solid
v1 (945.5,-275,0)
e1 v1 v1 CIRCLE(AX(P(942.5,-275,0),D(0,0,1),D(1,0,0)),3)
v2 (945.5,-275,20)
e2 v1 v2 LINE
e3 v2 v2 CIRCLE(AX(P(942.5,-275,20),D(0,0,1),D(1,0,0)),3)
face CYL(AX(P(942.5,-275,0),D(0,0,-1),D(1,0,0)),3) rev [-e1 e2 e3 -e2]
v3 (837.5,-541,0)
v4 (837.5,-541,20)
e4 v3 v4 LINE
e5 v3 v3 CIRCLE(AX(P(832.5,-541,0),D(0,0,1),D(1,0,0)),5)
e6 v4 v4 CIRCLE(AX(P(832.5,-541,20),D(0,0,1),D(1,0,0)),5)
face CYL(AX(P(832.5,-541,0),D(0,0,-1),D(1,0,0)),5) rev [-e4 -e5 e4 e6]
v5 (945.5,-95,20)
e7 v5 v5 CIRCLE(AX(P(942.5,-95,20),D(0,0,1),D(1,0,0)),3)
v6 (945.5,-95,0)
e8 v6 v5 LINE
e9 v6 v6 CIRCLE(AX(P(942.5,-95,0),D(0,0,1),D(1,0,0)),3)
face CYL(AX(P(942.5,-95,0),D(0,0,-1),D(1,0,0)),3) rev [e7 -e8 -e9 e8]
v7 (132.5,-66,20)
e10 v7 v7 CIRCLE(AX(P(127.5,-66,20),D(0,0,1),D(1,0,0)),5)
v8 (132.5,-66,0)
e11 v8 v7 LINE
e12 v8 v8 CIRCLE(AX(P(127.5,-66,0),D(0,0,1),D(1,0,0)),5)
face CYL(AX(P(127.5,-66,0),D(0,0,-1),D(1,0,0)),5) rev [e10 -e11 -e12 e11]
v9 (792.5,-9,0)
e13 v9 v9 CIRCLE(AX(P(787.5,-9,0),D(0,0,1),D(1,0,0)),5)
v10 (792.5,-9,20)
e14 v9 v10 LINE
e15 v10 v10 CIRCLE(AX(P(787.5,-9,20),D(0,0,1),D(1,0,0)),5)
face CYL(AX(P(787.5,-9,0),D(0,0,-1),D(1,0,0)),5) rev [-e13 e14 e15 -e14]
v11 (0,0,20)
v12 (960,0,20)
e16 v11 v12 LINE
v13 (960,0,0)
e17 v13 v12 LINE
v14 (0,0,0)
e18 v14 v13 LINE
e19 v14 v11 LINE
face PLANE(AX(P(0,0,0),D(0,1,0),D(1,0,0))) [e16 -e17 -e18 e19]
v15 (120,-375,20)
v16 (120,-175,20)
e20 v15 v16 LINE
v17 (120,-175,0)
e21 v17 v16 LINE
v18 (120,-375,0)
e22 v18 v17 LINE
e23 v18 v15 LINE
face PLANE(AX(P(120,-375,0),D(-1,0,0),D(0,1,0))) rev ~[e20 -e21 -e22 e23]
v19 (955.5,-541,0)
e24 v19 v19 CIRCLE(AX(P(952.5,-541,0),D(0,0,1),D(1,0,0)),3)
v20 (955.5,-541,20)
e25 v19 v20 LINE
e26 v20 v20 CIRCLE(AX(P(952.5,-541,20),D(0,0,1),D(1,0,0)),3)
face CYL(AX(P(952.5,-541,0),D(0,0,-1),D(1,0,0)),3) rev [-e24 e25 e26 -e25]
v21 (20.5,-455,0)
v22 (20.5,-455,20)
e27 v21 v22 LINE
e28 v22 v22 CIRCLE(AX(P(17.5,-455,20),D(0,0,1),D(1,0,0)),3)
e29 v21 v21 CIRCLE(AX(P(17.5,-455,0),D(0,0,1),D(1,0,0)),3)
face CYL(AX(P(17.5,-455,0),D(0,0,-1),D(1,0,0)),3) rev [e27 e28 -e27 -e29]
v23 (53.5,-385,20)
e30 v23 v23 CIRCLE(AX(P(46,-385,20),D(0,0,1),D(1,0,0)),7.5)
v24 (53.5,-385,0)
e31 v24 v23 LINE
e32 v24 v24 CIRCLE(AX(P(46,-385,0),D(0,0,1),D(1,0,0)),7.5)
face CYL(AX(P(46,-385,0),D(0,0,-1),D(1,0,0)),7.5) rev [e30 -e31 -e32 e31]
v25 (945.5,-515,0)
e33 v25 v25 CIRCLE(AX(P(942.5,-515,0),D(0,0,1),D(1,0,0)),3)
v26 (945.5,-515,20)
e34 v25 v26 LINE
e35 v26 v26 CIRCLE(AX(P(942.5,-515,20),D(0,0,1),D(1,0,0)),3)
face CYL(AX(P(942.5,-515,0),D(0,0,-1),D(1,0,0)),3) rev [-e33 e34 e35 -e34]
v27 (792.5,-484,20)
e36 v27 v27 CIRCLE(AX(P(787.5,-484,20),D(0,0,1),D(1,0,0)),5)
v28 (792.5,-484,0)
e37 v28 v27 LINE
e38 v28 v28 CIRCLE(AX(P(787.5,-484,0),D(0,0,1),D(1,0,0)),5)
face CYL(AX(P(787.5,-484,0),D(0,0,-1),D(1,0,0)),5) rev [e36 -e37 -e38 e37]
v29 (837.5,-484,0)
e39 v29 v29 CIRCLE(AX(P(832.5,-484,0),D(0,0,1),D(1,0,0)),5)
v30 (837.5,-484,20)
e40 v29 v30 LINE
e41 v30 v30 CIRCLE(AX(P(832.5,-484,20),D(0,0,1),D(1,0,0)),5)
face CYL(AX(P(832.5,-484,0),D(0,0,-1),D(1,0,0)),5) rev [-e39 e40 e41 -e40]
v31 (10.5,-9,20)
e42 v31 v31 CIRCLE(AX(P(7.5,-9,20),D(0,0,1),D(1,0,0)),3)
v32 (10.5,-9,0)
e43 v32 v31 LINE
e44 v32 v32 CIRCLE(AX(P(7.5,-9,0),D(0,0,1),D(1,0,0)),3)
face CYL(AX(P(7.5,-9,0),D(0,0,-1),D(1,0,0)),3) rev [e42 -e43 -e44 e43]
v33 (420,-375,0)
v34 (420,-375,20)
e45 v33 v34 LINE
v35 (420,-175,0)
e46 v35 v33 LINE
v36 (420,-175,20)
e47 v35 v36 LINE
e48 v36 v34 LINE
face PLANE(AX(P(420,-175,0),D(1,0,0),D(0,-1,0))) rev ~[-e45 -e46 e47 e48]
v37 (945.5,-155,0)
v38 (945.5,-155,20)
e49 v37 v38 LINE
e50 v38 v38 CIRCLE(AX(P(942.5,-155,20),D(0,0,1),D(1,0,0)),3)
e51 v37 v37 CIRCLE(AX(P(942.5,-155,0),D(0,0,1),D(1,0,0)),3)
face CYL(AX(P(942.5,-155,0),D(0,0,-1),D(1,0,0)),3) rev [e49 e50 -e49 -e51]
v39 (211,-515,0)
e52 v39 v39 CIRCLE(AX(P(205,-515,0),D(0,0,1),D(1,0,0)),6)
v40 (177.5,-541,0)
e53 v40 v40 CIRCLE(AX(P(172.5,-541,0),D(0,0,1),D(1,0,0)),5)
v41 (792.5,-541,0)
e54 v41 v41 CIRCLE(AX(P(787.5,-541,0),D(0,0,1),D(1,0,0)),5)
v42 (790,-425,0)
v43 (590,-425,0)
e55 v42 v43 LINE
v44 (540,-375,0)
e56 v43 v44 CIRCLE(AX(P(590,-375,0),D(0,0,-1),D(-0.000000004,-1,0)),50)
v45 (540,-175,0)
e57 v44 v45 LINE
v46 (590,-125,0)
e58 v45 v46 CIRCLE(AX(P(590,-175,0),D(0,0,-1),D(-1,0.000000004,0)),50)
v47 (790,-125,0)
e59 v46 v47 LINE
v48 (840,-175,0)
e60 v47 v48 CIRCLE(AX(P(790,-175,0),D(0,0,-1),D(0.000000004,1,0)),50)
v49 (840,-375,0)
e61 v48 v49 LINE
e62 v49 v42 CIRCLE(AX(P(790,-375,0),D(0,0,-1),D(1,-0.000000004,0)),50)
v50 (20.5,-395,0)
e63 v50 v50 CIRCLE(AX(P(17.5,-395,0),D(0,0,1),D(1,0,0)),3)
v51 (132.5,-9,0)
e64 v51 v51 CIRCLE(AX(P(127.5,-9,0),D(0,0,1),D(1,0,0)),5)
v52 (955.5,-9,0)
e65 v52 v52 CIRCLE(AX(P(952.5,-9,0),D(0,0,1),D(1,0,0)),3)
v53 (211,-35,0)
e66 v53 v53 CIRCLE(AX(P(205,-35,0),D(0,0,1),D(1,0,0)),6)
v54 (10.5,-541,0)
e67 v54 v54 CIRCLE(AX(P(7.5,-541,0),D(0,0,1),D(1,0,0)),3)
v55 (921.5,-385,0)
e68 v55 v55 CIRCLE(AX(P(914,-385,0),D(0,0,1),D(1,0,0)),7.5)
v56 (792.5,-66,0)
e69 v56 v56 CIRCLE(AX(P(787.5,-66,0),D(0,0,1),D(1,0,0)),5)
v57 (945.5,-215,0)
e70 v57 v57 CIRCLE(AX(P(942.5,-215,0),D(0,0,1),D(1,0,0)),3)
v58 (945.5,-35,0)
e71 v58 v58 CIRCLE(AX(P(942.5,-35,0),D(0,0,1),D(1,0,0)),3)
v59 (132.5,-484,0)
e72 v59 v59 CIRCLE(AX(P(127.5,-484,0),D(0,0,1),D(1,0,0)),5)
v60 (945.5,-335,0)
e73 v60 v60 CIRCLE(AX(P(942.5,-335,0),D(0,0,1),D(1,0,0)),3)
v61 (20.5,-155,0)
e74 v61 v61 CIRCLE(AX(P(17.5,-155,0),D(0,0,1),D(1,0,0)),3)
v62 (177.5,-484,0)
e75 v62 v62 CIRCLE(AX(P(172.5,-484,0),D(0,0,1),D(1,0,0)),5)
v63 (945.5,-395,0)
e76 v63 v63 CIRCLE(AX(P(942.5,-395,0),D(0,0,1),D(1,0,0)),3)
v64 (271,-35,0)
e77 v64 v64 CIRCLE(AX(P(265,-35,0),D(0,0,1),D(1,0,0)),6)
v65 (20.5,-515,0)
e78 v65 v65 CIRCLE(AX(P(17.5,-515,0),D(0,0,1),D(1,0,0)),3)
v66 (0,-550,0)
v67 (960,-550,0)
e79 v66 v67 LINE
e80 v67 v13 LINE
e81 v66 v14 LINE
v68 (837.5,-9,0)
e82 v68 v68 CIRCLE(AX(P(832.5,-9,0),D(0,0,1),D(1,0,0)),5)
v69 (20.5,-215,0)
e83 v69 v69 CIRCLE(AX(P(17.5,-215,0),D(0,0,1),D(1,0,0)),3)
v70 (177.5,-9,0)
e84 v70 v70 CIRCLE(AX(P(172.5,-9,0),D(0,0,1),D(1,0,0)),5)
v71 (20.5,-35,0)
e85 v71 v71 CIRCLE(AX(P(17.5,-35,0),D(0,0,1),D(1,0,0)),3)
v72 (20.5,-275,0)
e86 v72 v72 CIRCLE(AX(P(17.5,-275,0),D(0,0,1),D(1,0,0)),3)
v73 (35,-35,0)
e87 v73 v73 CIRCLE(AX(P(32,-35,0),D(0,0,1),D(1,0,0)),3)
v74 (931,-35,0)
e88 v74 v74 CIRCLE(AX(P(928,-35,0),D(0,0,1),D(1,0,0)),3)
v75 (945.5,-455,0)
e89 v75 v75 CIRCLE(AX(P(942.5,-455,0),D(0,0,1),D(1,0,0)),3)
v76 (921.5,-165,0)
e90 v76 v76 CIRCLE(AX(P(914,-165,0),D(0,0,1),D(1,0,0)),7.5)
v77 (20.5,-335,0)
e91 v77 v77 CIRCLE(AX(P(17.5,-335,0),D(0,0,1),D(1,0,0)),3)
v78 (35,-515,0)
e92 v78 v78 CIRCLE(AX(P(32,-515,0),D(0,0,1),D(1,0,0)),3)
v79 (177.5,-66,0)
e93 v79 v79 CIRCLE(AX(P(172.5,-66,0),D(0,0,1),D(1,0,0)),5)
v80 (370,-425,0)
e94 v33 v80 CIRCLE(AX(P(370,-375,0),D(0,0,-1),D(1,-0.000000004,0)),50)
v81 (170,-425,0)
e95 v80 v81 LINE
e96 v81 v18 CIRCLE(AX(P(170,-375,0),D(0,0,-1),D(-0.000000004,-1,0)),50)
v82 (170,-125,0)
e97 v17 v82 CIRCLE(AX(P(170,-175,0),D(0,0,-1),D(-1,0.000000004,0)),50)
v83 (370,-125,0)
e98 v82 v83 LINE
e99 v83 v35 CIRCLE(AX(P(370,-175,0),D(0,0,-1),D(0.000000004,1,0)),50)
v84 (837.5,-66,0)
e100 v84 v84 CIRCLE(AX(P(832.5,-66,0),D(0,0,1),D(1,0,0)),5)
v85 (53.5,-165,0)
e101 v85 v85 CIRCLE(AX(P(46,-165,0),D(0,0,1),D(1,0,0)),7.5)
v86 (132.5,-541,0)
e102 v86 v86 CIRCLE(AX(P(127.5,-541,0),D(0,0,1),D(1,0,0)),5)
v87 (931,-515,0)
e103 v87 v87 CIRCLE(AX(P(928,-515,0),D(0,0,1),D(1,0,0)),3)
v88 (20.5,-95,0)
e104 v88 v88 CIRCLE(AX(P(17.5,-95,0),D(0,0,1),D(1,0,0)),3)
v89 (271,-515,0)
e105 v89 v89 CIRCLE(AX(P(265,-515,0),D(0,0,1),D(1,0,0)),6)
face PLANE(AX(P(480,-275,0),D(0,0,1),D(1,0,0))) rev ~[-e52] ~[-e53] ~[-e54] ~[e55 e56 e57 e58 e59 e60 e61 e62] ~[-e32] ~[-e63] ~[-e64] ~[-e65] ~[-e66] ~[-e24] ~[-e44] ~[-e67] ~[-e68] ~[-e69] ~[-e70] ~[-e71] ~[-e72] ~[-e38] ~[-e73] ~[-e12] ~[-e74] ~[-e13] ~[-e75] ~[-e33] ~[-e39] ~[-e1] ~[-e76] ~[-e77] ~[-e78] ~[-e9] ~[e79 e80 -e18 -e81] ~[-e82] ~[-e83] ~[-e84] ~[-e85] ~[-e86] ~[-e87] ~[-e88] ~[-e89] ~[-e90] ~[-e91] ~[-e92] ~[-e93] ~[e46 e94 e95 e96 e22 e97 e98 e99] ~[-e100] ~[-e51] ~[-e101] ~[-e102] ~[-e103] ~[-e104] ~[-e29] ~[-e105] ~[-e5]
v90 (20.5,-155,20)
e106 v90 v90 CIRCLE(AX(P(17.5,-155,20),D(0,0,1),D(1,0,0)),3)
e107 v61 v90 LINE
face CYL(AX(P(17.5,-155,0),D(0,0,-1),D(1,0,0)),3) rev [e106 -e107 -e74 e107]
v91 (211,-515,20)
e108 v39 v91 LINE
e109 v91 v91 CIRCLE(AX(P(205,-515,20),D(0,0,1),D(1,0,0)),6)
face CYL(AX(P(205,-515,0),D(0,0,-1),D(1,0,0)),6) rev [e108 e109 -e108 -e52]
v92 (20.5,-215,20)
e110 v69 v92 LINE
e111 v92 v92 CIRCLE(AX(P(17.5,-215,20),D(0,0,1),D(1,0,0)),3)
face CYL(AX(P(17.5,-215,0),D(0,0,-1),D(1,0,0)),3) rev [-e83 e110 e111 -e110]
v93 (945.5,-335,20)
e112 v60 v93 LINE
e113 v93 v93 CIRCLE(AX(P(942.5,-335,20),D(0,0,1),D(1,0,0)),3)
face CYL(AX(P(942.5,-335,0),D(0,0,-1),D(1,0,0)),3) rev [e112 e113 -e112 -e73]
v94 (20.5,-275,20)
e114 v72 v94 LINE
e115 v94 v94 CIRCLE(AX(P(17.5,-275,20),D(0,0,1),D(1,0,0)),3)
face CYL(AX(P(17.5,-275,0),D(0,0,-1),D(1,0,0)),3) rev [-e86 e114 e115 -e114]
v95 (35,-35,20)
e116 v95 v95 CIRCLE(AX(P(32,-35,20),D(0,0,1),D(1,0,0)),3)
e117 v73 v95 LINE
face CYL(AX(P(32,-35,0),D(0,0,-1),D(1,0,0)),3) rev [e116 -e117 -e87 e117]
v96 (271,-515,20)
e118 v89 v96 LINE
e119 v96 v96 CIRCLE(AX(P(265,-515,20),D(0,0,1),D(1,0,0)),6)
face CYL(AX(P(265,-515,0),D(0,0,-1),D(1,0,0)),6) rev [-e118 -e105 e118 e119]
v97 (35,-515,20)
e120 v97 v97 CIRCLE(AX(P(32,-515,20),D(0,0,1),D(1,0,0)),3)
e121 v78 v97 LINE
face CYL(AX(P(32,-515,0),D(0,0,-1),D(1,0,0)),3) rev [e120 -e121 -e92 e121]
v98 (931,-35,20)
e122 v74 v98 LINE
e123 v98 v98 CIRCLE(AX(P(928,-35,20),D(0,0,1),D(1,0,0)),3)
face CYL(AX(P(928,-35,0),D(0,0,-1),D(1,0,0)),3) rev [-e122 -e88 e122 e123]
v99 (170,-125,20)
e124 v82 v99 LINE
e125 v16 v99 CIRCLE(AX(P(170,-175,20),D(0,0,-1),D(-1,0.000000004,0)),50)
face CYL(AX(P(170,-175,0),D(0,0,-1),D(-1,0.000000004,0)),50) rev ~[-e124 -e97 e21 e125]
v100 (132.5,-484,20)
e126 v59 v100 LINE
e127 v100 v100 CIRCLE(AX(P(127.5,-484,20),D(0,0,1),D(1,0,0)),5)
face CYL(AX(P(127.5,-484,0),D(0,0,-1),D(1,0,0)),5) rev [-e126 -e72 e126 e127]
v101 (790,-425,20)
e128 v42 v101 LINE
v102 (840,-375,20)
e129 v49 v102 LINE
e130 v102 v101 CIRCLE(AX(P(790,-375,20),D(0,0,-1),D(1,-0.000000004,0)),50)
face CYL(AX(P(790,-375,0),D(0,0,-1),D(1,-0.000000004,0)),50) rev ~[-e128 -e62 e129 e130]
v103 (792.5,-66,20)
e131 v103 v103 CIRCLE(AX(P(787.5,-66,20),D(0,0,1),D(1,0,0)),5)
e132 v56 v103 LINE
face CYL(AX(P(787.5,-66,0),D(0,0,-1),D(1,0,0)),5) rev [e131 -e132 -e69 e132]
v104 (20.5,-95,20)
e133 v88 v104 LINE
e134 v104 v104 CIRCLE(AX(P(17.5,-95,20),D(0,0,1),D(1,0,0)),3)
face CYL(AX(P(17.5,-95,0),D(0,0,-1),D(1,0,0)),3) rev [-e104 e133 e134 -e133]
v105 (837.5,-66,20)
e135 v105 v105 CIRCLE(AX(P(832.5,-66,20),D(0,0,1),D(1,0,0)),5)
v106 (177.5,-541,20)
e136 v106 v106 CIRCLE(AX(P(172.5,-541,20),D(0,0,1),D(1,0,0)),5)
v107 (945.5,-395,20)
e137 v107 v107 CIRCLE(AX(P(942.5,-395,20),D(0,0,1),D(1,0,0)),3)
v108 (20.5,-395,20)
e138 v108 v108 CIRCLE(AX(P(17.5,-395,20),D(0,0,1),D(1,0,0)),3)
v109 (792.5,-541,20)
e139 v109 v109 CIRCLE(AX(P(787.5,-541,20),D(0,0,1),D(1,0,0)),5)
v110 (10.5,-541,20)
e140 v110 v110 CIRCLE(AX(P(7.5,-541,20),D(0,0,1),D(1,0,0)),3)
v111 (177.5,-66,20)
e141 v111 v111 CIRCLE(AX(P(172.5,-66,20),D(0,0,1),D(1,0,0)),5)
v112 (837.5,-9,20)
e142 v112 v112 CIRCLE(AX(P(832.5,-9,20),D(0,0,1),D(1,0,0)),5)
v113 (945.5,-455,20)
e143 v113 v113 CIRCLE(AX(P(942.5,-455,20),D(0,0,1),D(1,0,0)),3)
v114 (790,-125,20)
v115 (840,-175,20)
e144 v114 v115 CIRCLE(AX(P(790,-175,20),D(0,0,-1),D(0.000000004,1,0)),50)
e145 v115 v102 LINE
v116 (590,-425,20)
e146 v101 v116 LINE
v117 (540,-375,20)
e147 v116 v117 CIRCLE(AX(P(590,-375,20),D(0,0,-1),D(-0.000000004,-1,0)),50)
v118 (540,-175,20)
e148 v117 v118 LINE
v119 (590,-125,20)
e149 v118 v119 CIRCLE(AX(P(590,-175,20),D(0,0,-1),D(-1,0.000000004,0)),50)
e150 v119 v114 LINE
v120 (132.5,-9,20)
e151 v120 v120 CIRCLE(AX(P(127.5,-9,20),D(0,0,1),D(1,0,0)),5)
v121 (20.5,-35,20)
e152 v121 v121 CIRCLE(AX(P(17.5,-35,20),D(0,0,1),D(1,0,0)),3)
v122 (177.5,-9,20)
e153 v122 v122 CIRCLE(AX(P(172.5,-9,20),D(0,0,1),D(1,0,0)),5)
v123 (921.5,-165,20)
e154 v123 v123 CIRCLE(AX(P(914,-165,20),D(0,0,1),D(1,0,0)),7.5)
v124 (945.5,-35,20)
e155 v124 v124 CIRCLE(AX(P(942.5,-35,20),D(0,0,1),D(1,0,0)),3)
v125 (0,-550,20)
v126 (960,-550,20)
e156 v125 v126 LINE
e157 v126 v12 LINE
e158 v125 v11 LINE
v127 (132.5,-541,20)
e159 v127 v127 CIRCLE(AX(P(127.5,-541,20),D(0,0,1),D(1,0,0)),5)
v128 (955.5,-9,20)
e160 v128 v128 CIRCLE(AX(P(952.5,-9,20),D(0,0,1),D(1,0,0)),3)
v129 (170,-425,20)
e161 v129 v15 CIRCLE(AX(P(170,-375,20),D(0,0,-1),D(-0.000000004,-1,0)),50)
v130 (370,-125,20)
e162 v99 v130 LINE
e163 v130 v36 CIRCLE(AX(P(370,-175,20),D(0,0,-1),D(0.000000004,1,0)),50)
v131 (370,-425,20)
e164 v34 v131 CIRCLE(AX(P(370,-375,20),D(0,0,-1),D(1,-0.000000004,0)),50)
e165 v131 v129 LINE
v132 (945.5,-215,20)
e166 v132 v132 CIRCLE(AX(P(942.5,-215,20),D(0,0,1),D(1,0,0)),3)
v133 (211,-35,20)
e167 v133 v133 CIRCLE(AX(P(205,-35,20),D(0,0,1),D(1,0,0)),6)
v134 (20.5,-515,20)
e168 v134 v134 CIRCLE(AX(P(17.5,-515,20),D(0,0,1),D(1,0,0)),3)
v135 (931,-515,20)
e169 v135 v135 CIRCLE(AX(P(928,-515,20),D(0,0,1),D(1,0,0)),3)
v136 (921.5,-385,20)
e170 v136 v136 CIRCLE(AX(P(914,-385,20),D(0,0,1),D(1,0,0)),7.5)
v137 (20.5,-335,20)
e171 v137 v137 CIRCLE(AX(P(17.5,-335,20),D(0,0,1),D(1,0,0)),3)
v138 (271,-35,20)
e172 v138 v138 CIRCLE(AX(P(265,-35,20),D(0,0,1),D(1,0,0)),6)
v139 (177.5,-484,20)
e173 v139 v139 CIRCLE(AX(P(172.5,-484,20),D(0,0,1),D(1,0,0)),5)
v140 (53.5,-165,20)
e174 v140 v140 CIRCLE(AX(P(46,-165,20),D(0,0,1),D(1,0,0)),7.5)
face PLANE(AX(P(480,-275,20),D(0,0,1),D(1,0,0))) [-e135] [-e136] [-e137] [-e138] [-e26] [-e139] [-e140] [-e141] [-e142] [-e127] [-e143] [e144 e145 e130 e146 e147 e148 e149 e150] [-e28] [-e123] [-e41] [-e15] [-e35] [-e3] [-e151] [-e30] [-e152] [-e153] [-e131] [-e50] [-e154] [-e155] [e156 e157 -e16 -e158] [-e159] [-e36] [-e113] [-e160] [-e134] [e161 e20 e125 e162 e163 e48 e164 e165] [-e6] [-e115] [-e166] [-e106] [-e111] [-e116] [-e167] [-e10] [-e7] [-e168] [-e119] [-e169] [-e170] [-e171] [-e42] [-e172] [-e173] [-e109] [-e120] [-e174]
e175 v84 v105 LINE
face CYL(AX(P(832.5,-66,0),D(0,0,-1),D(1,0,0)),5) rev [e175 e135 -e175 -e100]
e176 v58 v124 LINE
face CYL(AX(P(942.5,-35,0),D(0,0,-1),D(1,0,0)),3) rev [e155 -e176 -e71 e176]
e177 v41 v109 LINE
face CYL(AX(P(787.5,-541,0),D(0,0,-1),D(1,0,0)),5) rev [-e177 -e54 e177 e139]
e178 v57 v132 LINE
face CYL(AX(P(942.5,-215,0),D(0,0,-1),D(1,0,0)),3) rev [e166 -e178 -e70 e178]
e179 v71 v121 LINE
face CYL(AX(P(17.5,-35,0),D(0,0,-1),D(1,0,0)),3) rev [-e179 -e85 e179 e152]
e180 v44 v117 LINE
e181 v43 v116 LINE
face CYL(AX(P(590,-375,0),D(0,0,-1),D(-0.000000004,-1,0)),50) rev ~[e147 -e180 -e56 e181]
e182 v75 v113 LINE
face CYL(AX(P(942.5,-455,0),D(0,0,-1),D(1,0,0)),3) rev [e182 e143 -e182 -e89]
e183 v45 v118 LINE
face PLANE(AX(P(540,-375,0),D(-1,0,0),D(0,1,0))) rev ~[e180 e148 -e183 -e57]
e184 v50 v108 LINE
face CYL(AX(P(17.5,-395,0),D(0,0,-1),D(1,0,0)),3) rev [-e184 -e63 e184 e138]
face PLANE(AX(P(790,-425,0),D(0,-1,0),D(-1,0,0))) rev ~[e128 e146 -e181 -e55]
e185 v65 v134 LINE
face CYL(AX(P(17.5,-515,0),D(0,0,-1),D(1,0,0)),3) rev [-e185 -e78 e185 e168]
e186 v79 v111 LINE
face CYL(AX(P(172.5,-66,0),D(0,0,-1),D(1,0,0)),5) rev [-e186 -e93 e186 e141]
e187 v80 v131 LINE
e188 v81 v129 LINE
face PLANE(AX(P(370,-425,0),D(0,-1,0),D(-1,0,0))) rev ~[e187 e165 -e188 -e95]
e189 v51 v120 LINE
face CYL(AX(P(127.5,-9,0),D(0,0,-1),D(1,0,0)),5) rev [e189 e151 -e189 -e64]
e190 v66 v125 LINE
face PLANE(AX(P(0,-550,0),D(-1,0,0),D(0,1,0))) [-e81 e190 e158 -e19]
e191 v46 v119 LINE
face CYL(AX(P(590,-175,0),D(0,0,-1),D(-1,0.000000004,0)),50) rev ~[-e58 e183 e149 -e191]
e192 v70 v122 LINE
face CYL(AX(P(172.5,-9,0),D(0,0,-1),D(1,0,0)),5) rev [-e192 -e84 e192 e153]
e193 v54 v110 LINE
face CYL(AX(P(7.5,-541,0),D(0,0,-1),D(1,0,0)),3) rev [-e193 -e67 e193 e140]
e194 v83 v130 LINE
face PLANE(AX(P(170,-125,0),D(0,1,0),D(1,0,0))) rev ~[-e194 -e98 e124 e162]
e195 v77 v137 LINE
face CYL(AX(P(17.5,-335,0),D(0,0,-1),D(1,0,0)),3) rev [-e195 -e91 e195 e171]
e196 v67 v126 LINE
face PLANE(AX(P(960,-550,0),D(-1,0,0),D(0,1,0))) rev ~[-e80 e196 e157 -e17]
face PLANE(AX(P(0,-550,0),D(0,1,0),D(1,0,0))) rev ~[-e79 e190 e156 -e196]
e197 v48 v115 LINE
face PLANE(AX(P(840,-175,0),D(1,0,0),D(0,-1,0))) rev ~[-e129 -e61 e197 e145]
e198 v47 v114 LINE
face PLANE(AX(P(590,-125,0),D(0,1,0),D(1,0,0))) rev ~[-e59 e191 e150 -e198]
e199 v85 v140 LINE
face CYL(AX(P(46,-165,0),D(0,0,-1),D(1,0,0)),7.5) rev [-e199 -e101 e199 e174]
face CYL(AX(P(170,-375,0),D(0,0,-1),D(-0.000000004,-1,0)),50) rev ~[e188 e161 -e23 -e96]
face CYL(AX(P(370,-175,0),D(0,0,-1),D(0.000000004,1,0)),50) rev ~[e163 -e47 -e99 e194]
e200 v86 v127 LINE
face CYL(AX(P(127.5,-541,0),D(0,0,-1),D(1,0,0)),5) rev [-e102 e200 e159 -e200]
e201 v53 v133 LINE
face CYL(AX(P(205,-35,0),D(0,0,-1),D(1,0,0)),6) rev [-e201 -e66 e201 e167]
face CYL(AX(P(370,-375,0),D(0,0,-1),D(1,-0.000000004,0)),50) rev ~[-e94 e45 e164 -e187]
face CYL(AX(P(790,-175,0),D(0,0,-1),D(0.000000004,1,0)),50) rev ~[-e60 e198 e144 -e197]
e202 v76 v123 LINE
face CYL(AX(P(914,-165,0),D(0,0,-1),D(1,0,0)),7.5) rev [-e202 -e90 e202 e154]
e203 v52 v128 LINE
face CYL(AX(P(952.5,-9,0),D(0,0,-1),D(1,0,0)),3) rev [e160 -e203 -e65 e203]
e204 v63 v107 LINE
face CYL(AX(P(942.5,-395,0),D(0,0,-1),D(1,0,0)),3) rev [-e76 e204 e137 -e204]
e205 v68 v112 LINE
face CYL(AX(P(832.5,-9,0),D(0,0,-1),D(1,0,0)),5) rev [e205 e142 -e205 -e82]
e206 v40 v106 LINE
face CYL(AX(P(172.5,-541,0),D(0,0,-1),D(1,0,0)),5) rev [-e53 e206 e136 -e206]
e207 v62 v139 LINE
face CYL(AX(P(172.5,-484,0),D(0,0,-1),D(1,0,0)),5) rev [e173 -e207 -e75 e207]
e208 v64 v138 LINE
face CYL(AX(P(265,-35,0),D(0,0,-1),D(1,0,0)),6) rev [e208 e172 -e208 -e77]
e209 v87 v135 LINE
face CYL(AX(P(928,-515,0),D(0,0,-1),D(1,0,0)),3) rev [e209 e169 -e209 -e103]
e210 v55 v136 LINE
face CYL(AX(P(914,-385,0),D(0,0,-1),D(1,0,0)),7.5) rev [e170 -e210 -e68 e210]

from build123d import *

# Parameters (mm, degrees)
F0_W     = 960
F0_H     = 550
F0_R     = 3
F0_R_2   = 5
F0_R_3   = 6
F0_R_4   = 7.5
F1_DEPTH = 20


with BuildPart() as f1:
    # F0 (on Top) → F1 (new body)
    with BuildSketch(Plane.XY):
        with Locations((480, -275)):
            Rectangle(F0_W, F0_H)
        with Locations((7.5, -541)):
            Circle(F0_R, mode=Mode.SUBTRACT)
        with Locations((17.5, -515)):
            Circle(F0_R, mode=Mode.SUBTRACT)
        with Locations((32, -515)):
            Circle(F0_R, mode=Mode.SUBTRACT)
        with Locations((127.5, -541)):
            Circle(F0_R_2, mode=Mode.SUBTRACT)
        with Locations((172.5, -541)):
            Circle(F0_R_2, mode=Mode.SUBTRACT)
        with Locations((127.5, -484)):
            Circle(F0_R_2, mode=Mode.SUBTRACT)
        with Locations((172.5, -484)):
            Circle(F0_R_2, mode=Mode.SUBTRACT)
        with Locations((205, -515)):
            Circle(F0_R_3, mode=Mode.SUBTRACT)
        with Locations((17.5, -455)):
            Circle(F0_R, mode=Mode.SUBTRACT)
        with Locations((265, -515)):
            Circle(F0_R_3, mode=Mode.SUBTRACT)
        with Locations((17.5, -395)):
            Circle(F0_R, mode=Mode.SUBTRACT)
        with Locations((46, -385)):
            Circle(F0_R_4, mode=Mode.SUBTRACT)
        with Locations((17.5, -335)):
            Circle(F0_R, mode=Mode.SUBTRACT)
        with Locations((787.5, -541)):
            Circle(F0_R_2, mode=Mode.SUBTRACT)
        with Locations((832.5, -541)):
            Circle(F0_R_2, mode=Mode.SUBTRACT)
        with Locations((787.5, -484)):
            Circle(F0_R_2, mode=Mode.SUBTRACT)
        with Locations((832.5, -484)):
            Circle(F0_R_2, mode=Mode.SUBTRACT)
        with Locations((952.5, -541)):
            Circle(F0_R, mode=Mode.SUBTRACT)
        with Locations((928, -515)):
            Circle(F0_R, mode=Mode.SUBTRACT)
        with Locations((942.5, -515)):
            Circle(F0_R, mode=Mode.SUBTRACT)
        with Locations((942.5, -455)):
            Circle(F0_R, mode=Mode.SUBTRACT)
        with Locations((914, -385)):
            Circle(F0_R_4, mode=Mode.SUBTRACT)
        with Locations((942.5, -395)):
            Circle(F0_R, mode=Mode.SUBTRACT)
        with Locations((942.5, -335)):
            Circle(F0_R, mode=Mode.SUBTRACT)
        with Locations((17.5, -275)):
            Circle(F0_R, mode=Mode.SUBTRACT)
        with Locations((17.5, -215)):
            Circle(F0_R, mode=Mode.SUBTRACT)
        with Locations((17.5, -155)):
            Circle(F0_R, mode=Mode.SUBTRACT)
        with Locations((46, -165)):
            Circle(F0_R_4, mode=Mode.SUBTRACT)
        with BuildLine():
            ThreePointArc((120, -175), (134.644661, -139.644661), (170, -125))
            Line((170, -125), (370, -125))
            ThreePointArc((370, -125), (405.355339, -139.644661), (420, -175))
            Line((420, -175), (420, -375))
            ThreePointArc((420, -375), (405.355339, -410.355339), (370, -425))
            Line((370, -425), (170, -425))
            ThreePointArc((170, -425), (134.644661, -410.355339), (120, -375))
            Line((120, -375), (120, -175))
        make_face(mode=Mode.SUBTRACT)
        with Locations((17.5, -95)):
            Circle(F0_R, mode=Mode.SUBTRACT)
        with Locations((17.5, -35)):
            Circle(F0_R, mode=Mode.SUBTRACT)
        with Locations((32, -35)):
            Circle(F0_R, mode=Mode.SUBTRACT)
        with Locations((7.5, -9)):
            Circle(F0_R, mode=Mode.SUBTRACT)
        with Locations((127.5, -66)):
            Circle(F0_R_2, mode=Mode.SUBTRACT)
        with Locations((172.5, -66)):
            Circle(F0_R_2, mode=Mode.SUBTRACT)
        with Locations((205, -35)):
            Circle(F0_R_3, mode=Mode.SUBTRACT)
        with Locations((127.5, -9)):
            Circle(F0_R_2, mode=Mode.SUBTRACT)
        with Locations((172.5, -9)):
            Circle(F0_R_2, mode=Mode.SUBTRACT)
        with Locations((265, -35)):
            Circle(F0_R_3, mode=Mode.SUBTRACT)
        with BuildLine():
            ThreePointArc((840, -375), (825.355339, -410.355339), (790, -425))
            Line((790, -425), (590, -425))
            ThreePointArc((590, -425), (554.644661, -410.355339), (540, -375))
            Line((540, -375), (540, -175))
            ThreePointArc((540, -175), (554.644661, -139.644661), (590, -125))
            Line((590, -125), (790, -125))
            ThreePointArc((790, -125), (825.355339, -139.644661), (840, -175))
            Line((840, -175), (840, -375))
        make_face(mode=Mode.SUBTRACT)
        with Locations((942.5, -275)):
            Circle(F0_R, mode=Mode.SUBTRACT)
        with Locations((942.5, -215)):
            Circle(F0_R, mode=Mode.SUBTRACT)
        with Locations((914, -165)):
            Circle(F0_R_4, mode=Mode.SUBTRACT)
        with Locations((942.5, -155)):
            Circle(F0_R, mode=Mode.SUBTRACT)
        with Locations((942.5, -95)):
            Circle(F0_R, mode=Mode.SUBTRACT)
        with Locations((787.5, -66)):
            Circle(F0_R_2, mode=Mode.SUBTRACT)
        with Locations((832.5, -66)):
            Circle(F0_R_2, mode=Mode.SUBTRACT)
        with Locations((787.5, -9)):
            Circle(F0_R_2, mode=Mode.SUBTRACT)
        with Locations((832.5, -9)):
            Circle(F0_R_2, mode=Mode.SUBTRACT)
        with Locations((928, -35)):
            Circle(F0_R, mode=Mode.SUBTRACT)
        with Locations((942.5, -35)):
            Circle(F0_R, mode=Mode.SUBTRACT)
        with Locations((952.5, -9)):
            Circle(F0_R, mode=Mode.SUBTRACT)
    extrude(amount=F1_DEPTH)


solid = f1.part
